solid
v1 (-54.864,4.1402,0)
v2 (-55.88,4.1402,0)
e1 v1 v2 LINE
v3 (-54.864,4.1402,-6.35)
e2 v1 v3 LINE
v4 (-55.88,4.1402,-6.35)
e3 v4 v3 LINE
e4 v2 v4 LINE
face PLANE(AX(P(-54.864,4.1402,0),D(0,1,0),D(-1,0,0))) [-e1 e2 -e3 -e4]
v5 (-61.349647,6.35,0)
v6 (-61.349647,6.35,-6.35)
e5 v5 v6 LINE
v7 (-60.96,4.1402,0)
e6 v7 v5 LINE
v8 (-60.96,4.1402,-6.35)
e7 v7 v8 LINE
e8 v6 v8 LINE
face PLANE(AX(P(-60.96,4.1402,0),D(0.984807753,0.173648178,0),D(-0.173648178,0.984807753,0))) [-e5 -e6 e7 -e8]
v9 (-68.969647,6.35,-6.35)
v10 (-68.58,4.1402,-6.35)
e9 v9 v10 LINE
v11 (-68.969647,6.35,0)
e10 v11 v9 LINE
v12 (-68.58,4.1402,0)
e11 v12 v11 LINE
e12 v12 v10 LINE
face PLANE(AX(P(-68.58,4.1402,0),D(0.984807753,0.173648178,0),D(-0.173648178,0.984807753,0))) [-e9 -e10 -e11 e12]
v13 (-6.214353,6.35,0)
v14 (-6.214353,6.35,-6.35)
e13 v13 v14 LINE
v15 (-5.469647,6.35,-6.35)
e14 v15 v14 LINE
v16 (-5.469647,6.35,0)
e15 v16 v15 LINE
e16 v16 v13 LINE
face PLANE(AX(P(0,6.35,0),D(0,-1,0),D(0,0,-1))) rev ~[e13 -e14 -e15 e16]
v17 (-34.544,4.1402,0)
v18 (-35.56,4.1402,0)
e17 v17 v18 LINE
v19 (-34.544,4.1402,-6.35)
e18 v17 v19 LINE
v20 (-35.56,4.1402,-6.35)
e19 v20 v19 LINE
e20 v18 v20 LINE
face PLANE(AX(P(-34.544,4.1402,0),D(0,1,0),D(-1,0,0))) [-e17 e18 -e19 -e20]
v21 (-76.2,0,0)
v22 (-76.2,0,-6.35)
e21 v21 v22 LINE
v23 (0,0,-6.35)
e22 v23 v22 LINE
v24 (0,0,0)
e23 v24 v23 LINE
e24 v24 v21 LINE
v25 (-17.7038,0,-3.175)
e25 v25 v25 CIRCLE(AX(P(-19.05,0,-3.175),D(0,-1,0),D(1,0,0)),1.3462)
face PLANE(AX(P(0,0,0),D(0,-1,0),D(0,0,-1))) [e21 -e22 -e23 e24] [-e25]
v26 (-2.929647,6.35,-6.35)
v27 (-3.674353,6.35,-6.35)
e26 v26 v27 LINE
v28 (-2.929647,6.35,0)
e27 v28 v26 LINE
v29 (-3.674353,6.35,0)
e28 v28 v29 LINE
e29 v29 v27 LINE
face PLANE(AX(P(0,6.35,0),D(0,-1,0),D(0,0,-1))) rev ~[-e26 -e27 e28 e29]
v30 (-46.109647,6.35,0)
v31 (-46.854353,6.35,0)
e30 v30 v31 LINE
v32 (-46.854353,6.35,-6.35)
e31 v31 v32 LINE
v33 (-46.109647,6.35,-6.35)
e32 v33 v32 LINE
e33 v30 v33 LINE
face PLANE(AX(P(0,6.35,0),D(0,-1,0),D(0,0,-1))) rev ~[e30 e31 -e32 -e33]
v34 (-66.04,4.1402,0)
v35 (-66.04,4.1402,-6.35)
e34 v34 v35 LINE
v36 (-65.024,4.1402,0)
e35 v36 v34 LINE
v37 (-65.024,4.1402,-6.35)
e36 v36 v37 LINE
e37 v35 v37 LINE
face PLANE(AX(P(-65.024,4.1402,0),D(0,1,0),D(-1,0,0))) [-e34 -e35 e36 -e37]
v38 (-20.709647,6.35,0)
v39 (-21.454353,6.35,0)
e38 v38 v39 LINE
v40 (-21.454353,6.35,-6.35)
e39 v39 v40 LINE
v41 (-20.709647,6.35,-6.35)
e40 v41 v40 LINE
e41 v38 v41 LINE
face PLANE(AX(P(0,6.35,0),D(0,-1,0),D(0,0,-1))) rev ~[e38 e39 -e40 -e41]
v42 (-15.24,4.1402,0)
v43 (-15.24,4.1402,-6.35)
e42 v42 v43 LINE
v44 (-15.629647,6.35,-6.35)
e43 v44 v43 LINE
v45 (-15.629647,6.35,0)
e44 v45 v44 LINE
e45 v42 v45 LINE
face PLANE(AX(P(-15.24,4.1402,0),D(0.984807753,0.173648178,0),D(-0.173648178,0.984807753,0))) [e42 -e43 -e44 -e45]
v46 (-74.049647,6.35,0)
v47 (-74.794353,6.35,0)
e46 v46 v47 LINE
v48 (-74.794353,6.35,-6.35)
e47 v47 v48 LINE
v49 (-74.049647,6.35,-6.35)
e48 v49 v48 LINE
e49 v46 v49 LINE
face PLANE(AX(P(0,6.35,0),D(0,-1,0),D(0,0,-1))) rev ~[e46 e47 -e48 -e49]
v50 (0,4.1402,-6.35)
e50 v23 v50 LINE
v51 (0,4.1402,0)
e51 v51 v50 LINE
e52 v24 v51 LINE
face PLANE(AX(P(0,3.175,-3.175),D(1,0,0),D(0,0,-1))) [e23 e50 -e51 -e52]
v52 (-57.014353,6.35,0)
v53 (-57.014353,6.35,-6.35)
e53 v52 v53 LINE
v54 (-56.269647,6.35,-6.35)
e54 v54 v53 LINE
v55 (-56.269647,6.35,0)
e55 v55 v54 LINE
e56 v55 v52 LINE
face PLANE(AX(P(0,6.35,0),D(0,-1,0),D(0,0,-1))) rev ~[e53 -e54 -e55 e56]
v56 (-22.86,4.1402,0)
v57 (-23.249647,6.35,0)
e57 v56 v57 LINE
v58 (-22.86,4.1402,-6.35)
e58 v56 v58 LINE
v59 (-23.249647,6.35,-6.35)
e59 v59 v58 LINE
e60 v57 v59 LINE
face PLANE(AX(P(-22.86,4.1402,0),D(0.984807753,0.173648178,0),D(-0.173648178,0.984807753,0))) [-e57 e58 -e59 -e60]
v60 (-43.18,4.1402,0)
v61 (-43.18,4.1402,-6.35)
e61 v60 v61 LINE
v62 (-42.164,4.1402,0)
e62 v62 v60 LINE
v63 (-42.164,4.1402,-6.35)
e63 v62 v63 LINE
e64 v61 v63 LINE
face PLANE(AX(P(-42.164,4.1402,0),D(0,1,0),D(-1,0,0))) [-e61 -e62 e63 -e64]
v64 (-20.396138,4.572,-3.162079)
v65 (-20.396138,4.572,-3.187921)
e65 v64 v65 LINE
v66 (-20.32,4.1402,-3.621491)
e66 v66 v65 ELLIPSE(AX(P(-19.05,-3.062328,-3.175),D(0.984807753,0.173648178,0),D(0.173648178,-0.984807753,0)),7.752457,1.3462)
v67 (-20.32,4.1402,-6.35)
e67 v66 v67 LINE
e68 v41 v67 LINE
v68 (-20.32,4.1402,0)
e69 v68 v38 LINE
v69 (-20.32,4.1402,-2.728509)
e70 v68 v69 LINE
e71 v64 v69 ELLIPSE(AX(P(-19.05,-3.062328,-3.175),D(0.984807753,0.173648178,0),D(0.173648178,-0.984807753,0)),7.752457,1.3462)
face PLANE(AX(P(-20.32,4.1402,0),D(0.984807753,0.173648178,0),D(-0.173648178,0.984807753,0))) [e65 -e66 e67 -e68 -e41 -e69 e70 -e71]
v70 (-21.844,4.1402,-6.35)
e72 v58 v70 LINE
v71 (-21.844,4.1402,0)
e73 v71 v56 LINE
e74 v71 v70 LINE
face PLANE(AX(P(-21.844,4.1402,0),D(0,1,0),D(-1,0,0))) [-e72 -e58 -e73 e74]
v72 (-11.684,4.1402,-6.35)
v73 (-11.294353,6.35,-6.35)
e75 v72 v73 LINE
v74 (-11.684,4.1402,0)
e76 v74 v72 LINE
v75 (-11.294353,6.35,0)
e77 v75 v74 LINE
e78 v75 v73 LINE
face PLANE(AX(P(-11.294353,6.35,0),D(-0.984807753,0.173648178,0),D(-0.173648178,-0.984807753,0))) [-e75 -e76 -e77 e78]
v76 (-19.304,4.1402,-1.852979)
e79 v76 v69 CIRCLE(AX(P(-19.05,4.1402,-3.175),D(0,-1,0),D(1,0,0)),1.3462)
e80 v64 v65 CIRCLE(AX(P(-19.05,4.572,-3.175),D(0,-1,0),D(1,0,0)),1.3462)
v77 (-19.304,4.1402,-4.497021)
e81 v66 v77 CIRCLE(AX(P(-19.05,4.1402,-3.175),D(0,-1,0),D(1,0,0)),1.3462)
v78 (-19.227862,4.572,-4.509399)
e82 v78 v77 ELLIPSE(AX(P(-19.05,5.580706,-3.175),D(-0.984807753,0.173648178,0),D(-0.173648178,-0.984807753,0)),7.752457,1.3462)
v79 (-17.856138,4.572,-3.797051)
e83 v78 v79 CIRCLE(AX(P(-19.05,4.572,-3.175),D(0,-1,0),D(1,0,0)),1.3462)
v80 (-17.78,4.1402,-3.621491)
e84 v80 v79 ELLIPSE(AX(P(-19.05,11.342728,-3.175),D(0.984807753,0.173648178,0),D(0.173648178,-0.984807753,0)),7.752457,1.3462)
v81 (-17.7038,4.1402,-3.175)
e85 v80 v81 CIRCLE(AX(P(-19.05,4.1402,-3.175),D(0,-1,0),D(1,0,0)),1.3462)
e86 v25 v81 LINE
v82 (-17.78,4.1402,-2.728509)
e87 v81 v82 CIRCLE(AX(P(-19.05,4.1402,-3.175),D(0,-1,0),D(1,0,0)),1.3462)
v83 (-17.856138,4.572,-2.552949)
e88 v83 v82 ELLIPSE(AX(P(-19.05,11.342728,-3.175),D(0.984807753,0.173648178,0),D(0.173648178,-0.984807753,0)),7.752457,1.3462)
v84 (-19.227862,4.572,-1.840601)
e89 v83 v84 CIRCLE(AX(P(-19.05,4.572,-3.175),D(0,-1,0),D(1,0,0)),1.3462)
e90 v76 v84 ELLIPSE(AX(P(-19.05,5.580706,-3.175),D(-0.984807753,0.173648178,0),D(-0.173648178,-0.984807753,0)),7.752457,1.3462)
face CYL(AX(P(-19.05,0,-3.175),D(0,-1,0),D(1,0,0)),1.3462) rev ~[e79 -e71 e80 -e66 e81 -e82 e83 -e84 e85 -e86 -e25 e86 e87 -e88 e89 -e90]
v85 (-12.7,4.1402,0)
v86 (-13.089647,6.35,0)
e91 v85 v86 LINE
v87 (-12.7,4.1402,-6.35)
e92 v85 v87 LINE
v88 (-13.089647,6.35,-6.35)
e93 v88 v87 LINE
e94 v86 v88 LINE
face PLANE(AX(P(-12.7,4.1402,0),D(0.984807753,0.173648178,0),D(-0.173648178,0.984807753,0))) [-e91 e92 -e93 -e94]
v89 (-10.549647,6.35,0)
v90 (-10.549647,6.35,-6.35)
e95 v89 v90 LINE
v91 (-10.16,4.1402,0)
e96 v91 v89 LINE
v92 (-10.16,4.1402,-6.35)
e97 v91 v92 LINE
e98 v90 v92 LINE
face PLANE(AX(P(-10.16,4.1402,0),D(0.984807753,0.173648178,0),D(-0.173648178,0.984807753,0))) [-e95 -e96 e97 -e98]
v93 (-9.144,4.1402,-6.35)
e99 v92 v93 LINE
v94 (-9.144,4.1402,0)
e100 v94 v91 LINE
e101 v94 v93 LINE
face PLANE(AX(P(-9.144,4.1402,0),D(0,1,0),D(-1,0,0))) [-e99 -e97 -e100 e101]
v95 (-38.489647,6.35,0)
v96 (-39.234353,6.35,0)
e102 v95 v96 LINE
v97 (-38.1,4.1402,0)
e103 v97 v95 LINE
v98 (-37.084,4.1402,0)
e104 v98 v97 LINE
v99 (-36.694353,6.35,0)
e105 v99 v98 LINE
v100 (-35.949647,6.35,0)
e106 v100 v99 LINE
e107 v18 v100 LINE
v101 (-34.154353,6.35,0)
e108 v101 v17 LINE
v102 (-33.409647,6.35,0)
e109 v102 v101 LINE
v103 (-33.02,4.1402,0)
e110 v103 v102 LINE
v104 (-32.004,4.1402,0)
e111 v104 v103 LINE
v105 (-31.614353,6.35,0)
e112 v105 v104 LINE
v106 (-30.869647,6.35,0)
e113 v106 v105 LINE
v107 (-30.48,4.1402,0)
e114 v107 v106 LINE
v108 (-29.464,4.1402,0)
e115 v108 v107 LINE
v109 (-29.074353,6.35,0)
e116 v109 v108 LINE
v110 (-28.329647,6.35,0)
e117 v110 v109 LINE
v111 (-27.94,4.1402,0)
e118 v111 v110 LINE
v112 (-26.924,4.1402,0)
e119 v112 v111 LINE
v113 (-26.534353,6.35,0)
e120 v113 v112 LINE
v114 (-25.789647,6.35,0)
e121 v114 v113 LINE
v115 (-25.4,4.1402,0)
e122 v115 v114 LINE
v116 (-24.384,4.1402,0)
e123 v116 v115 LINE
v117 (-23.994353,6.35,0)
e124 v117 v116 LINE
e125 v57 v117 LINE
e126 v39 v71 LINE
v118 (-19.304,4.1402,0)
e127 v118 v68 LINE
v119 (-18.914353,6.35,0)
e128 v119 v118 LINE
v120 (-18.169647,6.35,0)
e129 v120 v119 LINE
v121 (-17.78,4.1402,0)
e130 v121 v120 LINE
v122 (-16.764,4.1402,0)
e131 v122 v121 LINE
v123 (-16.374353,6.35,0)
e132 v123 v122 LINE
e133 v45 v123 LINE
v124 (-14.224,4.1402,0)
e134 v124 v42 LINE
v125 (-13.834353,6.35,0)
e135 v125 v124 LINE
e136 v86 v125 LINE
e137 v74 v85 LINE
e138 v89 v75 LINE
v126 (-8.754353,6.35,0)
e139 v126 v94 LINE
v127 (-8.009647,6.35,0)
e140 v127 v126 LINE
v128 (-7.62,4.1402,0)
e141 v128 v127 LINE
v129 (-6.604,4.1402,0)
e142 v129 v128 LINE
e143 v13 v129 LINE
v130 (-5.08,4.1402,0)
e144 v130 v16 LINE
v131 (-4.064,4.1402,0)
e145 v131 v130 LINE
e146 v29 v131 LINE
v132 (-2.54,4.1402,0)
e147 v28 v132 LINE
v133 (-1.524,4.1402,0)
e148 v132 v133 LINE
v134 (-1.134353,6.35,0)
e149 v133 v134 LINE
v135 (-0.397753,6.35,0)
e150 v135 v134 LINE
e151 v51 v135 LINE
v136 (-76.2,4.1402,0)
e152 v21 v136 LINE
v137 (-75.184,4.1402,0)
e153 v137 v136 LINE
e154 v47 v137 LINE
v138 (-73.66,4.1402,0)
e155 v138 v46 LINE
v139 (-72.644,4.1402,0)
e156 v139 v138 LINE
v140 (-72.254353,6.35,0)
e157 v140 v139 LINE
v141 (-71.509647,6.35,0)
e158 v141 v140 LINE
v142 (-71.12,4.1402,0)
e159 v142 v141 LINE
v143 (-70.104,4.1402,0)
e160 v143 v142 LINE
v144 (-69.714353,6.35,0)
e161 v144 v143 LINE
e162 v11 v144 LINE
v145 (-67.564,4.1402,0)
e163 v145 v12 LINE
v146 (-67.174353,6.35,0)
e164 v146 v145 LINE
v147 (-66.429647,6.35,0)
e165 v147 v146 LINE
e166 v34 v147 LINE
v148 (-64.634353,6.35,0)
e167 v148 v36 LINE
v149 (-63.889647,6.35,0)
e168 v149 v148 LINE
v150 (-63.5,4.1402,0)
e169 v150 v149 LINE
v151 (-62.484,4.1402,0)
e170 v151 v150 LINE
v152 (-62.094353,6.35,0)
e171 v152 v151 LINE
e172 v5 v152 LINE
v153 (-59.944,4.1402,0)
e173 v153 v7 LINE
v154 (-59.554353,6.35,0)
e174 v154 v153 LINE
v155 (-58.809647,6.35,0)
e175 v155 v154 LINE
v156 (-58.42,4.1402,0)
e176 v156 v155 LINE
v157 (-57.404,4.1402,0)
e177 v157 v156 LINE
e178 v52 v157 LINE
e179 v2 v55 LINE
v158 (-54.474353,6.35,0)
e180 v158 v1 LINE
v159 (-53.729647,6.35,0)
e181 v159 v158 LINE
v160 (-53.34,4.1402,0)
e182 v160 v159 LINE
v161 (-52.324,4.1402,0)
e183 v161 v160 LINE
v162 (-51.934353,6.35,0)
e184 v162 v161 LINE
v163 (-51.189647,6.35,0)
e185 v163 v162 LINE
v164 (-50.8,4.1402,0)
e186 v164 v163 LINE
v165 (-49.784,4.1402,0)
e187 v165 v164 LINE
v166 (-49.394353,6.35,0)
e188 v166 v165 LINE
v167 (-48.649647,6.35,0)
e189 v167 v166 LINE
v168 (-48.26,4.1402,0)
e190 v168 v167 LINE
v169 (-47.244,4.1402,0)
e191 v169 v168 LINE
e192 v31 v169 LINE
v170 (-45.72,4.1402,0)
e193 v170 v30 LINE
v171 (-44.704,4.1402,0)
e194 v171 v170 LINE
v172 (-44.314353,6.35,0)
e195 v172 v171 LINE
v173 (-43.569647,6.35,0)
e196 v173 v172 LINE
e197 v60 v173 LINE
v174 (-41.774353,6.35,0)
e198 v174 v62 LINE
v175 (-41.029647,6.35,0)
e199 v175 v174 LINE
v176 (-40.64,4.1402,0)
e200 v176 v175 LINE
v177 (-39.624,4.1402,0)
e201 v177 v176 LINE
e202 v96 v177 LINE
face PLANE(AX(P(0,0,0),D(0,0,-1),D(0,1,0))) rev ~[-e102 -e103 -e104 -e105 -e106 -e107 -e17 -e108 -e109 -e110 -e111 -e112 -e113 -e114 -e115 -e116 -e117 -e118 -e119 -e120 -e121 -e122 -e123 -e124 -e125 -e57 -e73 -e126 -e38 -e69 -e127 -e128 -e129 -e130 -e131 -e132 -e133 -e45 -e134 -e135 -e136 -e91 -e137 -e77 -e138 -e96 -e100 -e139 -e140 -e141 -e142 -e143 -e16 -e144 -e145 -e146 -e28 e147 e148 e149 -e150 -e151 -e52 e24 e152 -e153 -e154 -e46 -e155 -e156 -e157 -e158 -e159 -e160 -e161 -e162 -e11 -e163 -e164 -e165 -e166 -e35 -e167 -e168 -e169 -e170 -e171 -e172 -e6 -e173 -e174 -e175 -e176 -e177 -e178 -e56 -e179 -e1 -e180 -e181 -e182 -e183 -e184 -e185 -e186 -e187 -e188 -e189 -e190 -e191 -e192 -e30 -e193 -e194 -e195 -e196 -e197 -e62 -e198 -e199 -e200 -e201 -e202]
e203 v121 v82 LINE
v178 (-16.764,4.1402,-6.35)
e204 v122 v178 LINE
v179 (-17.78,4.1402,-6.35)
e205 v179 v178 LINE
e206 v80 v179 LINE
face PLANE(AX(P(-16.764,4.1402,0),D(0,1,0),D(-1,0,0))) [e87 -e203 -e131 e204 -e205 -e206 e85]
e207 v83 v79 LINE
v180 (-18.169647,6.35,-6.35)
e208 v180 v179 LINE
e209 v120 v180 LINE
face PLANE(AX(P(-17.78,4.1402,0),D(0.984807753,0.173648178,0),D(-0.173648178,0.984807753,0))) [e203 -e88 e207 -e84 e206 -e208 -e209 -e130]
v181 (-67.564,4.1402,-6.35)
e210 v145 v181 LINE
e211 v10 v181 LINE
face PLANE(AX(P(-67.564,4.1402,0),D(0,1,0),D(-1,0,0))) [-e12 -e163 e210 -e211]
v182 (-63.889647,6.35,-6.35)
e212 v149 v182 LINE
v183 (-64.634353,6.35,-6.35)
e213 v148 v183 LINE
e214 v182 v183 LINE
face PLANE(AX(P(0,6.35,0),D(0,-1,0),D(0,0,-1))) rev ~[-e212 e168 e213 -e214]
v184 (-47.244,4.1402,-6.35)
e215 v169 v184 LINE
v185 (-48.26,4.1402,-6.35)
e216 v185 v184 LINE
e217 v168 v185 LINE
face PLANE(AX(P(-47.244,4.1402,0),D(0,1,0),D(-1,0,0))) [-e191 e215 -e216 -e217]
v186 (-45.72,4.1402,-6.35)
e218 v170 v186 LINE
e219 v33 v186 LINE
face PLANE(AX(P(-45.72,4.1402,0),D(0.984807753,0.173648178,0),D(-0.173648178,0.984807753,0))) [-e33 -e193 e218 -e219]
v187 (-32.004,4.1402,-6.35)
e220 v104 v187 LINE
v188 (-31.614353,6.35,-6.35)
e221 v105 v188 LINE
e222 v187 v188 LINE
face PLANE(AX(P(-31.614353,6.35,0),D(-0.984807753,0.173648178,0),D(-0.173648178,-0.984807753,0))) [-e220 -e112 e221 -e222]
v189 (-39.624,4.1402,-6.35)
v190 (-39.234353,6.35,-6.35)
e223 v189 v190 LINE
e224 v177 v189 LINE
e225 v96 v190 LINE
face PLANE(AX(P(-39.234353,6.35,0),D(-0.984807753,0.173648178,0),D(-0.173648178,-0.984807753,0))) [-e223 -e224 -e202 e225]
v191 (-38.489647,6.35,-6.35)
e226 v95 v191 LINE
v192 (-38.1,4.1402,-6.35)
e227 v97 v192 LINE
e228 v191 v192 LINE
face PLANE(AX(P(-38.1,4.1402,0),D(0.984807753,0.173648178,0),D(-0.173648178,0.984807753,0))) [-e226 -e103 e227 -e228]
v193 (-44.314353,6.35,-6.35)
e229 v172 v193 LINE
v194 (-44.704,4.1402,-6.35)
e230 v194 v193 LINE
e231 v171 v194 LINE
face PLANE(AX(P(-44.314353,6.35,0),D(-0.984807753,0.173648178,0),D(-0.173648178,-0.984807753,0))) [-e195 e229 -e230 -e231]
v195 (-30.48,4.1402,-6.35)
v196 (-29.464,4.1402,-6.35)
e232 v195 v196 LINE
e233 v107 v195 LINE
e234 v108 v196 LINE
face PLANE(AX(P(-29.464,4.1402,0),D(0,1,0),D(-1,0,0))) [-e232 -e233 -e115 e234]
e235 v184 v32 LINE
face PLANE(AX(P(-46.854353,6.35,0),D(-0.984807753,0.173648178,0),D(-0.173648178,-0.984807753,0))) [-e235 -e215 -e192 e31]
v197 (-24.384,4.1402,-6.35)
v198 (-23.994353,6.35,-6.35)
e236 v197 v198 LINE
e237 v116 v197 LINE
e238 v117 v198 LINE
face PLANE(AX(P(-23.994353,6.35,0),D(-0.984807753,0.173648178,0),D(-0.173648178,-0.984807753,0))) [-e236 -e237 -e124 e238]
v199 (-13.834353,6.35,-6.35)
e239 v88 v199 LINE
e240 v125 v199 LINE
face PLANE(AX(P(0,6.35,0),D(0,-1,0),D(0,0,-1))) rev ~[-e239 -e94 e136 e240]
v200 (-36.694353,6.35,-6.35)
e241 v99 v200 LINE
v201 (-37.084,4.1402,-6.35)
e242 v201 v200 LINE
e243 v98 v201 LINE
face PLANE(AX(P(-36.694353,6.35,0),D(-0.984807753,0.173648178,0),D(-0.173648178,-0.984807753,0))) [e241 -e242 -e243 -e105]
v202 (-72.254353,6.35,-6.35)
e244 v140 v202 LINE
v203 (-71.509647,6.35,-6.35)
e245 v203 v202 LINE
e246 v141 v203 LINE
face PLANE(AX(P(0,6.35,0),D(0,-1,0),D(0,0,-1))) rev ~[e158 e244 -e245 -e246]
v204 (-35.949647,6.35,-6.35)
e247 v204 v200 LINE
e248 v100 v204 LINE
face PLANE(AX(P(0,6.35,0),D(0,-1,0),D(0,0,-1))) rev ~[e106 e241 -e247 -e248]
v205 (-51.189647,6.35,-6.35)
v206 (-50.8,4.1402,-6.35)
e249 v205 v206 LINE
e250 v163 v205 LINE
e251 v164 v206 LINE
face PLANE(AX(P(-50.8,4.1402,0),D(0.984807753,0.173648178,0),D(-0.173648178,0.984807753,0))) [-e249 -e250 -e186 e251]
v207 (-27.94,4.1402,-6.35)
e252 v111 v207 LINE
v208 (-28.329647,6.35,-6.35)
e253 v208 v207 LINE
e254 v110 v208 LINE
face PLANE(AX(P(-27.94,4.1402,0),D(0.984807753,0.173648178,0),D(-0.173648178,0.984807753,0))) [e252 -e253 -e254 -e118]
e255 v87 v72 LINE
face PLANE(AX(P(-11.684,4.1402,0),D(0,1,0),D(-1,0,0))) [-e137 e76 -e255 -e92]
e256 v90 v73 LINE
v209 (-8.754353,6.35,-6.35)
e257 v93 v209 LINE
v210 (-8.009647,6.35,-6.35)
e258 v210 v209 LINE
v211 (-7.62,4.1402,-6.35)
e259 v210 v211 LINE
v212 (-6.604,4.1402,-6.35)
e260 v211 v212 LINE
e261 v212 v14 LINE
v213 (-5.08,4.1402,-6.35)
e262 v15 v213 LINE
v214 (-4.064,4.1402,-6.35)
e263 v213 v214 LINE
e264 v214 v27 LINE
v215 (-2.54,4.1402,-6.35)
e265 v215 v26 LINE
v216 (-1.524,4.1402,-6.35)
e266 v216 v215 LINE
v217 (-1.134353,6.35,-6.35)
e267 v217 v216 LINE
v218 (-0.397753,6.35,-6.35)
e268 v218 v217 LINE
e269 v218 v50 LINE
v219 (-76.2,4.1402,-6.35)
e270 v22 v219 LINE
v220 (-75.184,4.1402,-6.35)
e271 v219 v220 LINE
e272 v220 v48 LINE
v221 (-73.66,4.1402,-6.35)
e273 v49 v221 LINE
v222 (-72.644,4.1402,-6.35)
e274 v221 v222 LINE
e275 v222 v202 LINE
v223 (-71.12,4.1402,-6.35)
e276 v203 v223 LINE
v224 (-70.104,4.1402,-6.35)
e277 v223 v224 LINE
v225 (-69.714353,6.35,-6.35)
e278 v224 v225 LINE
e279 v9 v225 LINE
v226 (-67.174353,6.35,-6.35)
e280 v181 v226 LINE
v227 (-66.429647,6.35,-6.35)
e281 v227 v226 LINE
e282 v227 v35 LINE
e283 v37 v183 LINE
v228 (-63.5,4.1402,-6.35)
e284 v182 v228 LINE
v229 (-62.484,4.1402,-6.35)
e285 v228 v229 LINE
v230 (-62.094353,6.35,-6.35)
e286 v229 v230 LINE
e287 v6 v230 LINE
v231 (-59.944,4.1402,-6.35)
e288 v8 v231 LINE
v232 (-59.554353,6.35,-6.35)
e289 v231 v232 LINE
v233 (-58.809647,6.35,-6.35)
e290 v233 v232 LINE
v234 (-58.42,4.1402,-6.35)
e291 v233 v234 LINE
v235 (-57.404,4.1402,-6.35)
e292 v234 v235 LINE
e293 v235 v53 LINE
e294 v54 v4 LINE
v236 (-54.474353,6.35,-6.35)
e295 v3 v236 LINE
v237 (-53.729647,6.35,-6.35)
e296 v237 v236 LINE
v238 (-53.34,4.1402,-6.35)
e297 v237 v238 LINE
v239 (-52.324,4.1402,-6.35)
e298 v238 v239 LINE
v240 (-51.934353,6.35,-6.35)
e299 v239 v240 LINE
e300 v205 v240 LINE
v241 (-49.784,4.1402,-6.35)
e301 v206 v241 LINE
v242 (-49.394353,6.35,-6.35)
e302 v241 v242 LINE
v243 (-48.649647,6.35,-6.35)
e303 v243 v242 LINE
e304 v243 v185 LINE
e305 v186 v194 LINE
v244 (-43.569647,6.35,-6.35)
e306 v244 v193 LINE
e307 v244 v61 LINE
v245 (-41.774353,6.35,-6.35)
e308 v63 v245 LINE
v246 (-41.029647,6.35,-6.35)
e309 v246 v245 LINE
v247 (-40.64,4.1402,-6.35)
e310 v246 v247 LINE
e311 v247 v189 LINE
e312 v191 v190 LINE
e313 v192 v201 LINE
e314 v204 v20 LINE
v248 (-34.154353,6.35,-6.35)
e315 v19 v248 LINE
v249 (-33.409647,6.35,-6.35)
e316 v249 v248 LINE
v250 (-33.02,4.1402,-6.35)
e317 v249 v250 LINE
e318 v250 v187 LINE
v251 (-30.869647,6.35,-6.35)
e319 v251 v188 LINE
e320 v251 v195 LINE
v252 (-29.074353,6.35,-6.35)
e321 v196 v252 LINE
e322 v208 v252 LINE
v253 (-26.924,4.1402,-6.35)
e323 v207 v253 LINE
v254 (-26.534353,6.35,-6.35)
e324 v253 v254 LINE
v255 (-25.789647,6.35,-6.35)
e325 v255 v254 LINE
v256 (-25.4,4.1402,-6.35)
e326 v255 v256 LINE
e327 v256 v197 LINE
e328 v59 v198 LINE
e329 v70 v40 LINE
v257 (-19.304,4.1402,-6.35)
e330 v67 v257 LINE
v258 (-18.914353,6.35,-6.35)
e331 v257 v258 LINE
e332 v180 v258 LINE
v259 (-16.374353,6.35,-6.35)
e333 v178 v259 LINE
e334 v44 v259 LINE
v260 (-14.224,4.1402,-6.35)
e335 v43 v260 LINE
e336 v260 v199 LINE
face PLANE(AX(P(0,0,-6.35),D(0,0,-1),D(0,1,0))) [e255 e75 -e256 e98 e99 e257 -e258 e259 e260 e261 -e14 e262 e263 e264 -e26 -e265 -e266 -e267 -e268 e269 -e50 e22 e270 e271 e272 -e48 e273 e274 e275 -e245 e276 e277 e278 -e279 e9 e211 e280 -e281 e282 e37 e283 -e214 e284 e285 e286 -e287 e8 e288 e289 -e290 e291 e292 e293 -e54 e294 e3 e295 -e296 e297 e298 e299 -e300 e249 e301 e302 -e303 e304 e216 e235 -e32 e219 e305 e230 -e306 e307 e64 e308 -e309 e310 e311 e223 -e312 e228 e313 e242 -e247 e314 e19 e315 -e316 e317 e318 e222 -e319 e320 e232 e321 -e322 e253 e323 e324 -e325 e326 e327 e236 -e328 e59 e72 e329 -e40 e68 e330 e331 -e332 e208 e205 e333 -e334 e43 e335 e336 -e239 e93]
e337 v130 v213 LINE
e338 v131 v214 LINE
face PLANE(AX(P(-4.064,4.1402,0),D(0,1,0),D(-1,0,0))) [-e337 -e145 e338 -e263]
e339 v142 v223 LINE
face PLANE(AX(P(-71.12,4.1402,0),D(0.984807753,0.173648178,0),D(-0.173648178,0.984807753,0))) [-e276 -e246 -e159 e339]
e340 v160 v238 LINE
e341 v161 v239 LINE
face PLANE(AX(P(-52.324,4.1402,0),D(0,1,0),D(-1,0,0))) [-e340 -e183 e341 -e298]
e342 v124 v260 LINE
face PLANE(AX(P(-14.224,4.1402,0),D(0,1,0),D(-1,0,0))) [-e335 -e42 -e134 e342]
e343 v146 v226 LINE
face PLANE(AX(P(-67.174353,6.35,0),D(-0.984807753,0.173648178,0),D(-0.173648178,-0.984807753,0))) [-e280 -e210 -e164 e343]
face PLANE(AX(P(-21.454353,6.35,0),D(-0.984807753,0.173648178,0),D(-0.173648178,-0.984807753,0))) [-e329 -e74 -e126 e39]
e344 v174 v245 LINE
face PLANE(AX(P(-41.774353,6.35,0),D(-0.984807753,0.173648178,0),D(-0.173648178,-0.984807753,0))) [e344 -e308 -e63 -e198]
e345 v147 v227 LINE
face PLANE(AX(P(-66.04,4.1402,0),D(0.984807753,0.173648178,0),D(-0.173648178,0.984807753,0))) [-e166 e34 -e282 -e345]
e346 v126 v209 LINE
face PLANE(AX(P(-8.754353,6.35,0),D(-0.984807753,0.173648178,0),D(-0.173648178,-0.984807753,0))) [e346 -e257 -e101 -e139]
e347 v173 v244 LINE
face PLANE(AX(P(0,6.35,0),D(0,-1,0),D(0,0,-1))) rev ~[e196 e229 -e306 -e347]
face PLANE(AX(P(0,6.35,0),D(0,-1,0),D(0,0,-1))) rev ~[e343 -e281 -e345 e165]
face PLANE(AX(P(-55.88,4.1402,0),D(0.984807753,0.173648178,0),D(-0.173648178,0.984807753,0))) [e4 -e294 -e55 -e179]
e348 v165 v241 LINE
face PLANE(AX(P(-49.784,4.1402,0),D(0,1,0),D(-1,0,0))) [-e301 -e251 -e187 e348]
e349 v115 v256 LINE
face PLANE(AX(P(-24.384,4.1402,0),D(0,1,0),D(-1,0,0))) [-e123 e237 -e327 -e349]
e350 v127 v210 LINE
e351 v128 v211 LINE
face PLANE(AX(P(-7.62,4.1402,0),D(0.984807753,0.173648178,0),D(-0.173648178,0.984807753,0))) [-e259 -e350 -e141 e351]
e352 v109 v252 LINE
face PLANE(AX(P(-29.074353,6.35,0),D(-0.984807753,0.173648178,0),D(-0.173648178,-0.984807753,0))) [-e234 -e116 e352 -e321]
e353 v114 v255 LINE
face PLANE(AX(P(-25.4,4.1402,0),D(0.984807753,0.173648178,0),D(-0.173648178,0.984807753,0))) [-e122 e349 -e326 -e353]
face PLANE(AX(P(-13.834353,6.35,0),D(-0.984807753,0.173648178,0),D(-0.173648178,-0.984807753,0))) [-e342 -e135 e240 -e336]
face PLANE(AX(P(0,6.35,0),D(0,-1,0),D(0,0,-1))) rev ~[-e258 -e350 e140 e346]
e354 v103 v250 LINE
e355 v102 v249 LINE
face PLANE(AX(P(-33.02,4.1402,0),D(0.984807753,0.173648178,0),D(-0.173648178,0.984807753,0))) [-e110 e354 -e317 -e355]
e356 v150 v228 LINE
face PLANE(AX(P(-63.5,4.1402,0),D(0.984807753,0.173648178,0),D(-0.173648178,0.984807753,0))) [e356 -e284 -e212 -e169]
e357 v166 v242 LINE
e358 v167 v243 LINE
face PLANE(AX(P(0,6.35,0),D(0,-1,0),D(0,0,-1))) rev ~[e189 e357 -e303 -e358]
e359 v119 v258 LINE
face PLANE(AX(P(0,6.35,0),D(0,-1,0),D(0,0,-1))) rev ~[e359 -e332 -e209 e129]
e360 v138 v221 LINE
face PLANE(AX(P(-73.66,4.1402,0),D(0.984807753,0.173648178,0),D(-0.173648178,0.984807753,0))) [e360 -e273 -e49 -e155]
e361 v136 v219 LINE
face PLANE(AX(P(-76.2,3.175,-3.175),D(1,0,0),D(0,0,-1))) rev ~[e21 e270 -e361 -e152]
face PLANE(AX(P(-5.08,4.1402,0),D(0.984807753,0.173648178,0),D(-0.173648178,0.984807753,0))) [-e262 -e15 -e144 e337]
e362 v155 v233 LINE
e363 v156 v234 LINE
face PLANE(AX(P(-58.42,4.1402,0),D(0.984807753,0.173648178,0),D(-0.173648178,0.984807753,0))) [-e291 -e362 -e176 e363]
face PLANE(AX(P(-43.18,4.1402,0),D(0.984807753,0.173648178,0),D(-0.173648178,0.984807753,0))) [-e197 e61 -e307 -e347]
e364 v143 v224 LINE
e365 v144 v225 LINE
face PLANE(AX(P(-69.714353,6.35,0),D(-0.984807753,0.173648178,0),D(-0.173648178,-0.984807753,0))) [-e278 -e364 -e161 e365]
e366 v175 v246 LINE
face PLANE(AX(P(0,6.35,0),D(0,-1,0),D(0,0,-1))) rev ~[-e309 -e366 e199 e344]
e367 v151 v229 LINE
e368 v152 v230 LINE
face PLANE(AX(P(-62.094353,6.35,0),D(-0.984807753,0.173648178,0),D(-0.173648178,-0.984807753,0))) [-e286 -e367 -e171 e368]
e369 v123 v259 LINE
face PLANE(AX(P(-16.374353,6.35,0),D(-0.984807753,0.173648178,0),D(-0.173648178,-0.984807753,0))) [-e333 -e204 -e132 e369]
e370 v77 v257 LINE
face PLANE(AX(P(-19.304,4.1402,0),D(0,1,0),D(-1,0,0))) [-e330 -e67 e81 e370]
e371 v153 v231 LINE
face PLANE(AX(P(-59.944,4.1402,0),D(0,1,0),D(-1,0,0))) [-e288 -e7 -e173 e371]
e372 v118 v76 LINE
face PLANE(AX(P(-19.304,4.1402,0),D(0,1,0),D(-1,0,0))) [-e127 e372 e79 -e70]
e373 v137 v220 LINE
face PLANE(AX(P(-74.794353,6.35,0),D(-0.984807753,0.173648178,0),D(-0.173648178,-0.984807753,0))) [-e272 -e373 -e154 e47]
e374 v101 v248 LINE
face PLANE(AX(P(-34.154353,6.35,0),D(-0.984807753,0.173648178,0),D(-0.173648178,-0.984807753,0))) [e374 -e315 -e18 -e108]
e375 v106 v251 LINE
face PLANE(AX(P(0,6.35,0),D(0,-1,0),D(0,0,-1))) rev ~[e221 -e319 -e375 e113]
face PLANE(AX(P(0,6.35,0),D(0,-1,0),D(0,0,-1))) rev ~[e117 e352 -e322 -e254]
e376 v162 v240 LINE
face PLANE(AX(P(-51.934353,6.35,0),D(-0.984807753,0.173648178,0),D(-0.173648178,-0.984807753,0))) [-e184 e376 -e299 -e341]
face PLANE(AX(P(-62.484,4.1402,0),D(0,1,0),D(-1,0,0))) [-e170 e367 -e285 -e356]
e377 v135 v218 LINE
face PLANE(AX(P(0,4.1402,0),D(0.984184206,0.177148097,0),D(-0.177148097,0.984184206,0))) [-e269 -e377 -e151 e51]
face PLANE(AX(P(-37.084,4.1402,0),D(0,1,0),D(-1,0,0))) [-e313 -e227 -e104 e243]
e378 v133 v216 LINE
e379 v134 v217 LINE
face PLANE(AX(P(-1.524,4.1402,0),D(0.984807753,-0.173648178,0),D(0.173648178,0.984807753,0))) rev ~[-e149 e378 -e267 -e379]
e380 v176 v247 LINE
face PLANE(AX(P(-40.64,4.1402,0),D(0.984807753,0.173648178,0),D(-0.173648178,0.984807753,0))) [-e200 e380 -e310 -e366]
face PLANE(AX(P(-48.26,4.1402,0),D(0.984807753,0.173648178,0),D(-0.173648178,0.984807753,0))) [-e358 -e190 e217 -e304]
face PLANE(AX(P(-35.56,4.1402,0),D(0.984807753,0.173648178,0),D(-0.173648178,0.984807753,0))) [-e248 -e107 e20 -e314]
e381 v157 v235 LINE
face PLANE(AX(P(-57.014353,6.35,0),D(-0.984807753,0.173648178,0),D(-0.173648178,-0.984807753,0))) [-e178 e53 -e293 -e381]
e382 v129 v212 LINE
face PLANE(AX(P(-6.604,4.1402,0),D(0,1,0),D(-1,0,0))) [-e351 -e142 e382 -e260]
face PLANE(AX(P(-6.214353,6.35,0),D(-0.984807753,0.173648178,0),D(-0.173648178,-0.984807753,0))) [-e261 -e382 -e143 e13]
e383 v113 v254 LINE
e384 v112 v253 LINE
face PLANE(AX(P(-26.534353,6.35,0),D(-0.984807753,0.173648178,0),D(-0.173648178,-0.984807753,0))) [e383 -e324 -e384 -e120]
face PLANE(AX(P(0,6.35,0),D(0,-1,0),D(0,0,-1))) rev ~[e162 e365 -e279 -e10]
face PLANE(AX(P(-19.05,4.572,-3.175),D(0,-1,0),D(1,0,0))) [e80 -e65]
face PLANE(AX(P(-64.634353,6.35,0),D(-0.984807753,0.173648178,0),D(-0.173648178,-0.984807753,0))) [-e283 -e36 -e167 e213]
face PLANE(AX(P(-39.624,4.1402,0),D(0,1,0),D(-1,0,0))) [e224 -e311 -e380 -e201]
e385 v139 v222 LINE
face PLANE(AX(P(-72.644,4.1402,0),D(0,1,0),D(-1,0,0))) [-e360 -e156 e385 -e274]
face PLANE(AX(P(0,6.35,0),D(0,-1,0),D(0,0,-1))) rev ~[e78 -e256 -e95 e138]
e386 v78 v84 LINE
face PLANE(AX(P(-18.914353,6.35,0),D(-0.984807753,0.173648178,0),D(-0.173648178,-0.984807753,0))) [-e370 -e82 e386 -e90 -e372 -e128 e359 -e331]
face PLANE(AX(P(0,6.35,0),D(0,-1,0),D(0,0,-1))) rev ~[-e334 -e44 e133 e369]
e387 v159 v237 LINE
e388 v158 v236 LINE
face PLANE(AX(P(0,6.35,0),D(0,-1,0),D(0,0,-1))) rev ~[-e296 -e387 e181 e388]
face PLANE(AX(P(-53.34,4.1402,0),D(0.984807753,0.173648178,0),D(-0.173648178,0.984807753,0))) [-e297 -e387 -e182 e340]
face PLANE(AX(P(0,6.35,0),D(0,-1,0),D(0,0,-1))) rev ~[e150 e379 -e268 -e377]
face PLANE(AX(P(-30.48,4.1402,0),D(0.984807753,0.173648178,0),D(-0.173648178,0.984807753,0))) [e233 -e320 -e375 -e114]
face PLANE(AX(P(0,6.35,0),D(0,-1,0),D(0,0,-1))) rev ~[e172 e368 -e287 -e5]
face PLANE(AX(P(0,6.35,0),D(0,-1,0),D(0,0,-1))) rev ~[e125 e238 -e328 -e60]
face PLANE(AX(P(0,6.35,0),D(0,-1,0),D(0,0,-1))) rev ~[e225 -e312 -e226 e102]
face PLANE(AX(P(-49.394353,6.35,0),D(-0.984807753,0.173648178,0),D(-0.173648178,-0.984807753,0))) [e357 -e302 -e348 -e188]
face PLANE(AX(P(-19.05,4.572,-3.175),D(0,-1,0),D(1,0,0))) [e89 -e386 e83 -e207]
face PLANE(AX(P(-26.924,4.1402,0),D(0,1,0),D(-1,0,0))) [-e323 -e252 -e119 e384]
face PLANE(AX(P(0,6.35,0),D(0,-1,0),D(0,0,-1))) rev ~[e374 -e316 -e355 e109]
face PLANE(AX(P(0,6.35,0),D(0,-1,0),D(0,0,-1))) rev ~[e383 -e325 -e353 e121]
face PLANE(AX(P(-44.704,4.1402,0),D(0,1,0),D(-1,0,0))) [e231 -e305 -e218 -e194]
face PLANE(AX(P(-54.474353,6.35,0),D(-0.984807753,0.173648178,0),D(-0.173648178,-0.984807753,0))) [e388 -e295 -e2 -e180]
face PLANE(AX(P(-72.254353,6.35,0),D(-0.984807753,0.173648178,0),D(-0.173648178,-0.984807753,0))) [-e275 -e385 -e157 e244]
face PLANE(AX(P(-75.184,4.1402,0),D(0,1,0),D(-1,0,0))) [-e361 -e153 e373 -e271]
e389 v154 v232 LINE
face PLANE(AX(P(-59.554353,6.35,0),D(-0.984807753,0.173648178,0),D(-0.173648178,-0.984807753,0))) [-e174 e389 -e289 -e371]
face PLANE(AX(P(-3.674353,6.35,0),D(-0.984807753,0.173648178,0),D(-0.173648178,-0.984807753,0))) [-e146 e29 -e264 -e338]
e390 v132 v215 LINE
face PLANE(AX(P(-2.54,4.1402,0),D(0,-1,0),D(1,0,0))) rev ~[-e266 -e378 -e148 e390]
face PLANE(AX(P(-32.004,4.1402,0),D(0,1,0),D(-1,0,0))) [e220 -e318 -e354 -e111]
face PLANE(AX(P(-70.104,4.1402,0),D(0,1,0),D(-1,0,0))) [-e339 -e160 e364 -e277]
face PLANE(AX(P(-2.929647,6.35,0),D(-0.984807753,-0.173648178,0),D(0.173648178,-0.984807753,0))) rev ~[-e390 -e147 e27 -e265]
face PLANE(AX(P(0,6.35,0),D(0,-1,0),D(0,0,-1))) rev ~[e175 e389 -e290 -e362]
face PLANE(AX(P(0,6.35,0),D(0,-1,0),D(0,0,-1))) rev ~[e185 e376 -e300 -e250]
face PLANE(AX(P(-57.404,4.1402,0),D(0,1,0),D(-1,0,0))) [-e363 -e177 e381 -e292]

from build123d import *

# Parameters (mm, degrees)
SKETCH1_W           = 6.35
SKETCH1_H           = 6.35
BOSS_EXTRUDE1_DEPTH = 76.2
CUT_EXTRUDE1_DEPTH  = 76.2
SKETCH3_R           = 1.3462
CUT_EXTRUDE2_DEPTH  = 4.572


with BuildPart() as part:
    # Sketch1 → Boss-Extrude1 (new body)
    with BuildSketch(Plane(origin=(0, 0, 0), x_dir=(0, 0, -1), z_dir=(1, 0, 0))):
        with Locations((3.175, 3.175)):
            Rectangle(SKETCH1_W, SKETCH1_H)
    extrude(amount=-BOSS_EXTRUDE1_DEPTH)

    # Sketch2 → Cut-Extrude1 (cut)
    with BuildSketch(Plane.XY):
        Polygon((-5.08, 4.1402), (-5.469647362, 6.35), (-3.674352638, 6.35), (-4.064, 4.1402), align=None)
        Polygon((-1.524, 4.1402), (-1.134352638, 6.35), (-2.929647362, 6.35), (-2.54, 4.1402), align=None)
        Polygon((-7.62, 4.1402), (-8.009647362, 6.35), (-6.214352638, 6.35), (-6.604, 4.1402), align=None)
        Polygon((-10.16, 4.1402), (-10.549647362, 6.35), (-8.754352638, 6.35), (-9.144, 4.1402), align=None)
        Polygon((-12.7, 4.1402), (-13.089647362, 6.35), (-11.294352638, 6.35), (-11.684, 4.1402), align=None)
        Polygon((-15.24, 4.1402), (-15.629647362, 6.35), (-13.834352638, 6.35), (-14.224, 4.1402), align=None)
        Polygon((-17.78, 4.1402), (-18.169647362, 6.35), (-16.374352638, 6.35), (-16.764, 4.1402), align=None)
        Polygon((-20.32, 4.1402), (-20.709647362, 6.35), (-18.914352638, 6.35), (-19.304, 4.1402), align=None)
        Polygon((-22.86, 4.1402), (-23.249647362, 6.35), (-21.454352638, 6.35), (-21.844, 4.1402), align=None)
        Polygon((-25.4, 4.1402), (-25.789647362, 6.35), (-23.994352638, 6.35), (-24.384, 4.1402), align=None)
        Polygon((-27.94, 4.1402), (-28.329647362, 6.35), (-26.534352638, 6.35), (-26.924, 4.1402), align=None)
        Polygon((-30.48, 4.1402), (-30.869647362, 6.35), (-29.074352638, 6.35), (-29.464, 4.1402), align=None)
        Polygon((-33.02, 4.1402), (-33.409647362, 6.35), (-31.614352638, 6.35), (-32.004, 4.1402), align=None)
        Polygon((-35.56, 4.1402), (-35.949647362, 6.35), (-34.154352638, 6.35), (-34.544, 4.1402), align=None)
        Polygon((-38.1, 4.1402), (-38.489647362, 6.35), (-36.694352638, 6.35), (-37.084, 4.1402), align=None)
        Polygon((-40.64, 4.1402), (-41.029647362, 6.35), (-39.234352638, 6.35), (-39.624, 4.1402), align=None)
        Polygon((-43.18, 4.1402), (-43.569647362, 6.35), (-41.774352638, 6.35), (-42.164, 4.1402), align=None)
        Polygon((-45.72, 4.1402), (-46.109647362, 6.35), (-44.314352638, 6.35), (-44.704, 4.1402), align=None)
        Polygon((-48.26, 4.1402), (-48.649647362, 6.35), (-46.854352638, 6.35), (-47.244, 4.1402), align=None)
        Polygon((-50.8, 4.1402), (-51.189647362, 6.35), (-49.394352638, 6.35), (-49.784, 4.1402), align=None)
        Polygon((-53.34, 4.1402), (-53.729647362, 6.35), (-51.934352638, 6.35), (-52.324, 4.1402), align=None)
        Polygon((-55.88, 4.1402), (-56.269647362, 6.35), (-54.474352638, 6.35), (-54.864, 4.1402), align=None)
        Polygon((-58.42, 4.1402), (-58.809647362, 6.35), (-57.014352638, 6.35), (-57.404, 4.1402), align=None)
        Polygon((-60.96, 4.1402), (-61.349647362, 6.35), (-59.554352638, 6.35), (-59.944, 4.1402), align=None)
        Polygon((-63.5, 4.1402), (-63.889647362, 6.35), (-62.094352638, 6.35), (-62.484, 4.1402), align=None)
        Polygon((-66.04, 4.1402), (-66.429647362, 6.35), (-64.634352638, 6.35), (-65.024, 4.1402), align=None)
        Polygon((-68.58, 4.1402), (-68.969647362, 6.35), (-67.174352638, 6.35), (-67.564, 4.1402), align=None)
        Polygon((-71.12, 4.1402), (-71.509647362, 6.35), (-69.714352638, 6.35), (-70.104, 4.1402), align=None)
        Polygon((-73.66, 4.1402), (-74.049647362, 6.35), (-72.254352638, 6.35), (-72.644, 4.1402), align=None)
        Polygon((-76.2, 4.1402), (-76.589647362, 6.35), (-74.794352638, 6.35), (-75.184, 4.1402), align=None)
        Polygon((-78.74, 4.1402), (-79.129647362, 6.35), (-77.334352638, 6.35), (-77.724, 4.1402), align=None)
        Polygon((-81.28, 4.1402), (-81.669647362, 6.35), (-79.874352638, 6.35), (-80.264, 4.1402), align=None)
        Polygon((-83.82, 4.1402), (-84.209647362, 6.35), (-82.414352638, 6.35), (-82.804, 4.1402), align=None)
        Polygon((-86.36, 4.1402), (-86.749647362, 6.35), (-84.954352638, 6.35), (-85.344, 4.1402), align=None)
        Polygon((-88.9, 4.1402), (-89.289647362, 6.35), (-87.494352638, 6.35), (-87.884, 4.1402), align=None)
        Polygon((-91.44, 4.1402), (-91.829647362, 6.35), (-90.034352638, 6.35), (-90.424, 4.1402), align=None)
        Polygon((-93.98, 4.1402), (-94.369647362, 6.35), (-92.574352638, 6.35), (-92.964, 4.1402), align=None)
        Polygon((-96.52, 4.1402), (-96.909647362, 6.35), (-95.114352638, 6.35), (-95.504, 4.1402), align=None)
        Polygon((-99.06, 4.1402), (-99.449647362, 6.35), (-97.654352638, 6.35), (-98.044, 4.1402), align=None)
        Polygon((-101.6, 4.1402), (-101.989647362, 6.35), (-100.194352638, 6.35), (-100.584, 4.1402), align=None)
        Polygon((-104.14, 4.1402), (-104.529647362, 6.35), (-102.734352638, 6.35), (-103.124, 4.1402), align=None)
        Polygon((-106.68, 4.1402), (-107.069647362, 6.35), (-105.274352638, 6.35), (-105.664, 4.1402), align=None)
        Polygon((-109.22, 4.1402), (-109.609647362, 6.35), (-107.814352638, 6.35), (-108.204, 4.1402), align=None)
        Polygon((-111.76, 4.1402), (-112.149647362, 6.35), (-110.354352638, 6.35), (-110.744, 4.1402), align=None)
        Polygon((-114.3, 4.1402), (-114.689647362, 6.35), (-112.894352638, 6.35), (-113.284, 4.1402), align=None)
        Polygon((-116.84, 4.1402), (-117.229647362, 6.35), (-115.434352638, 6.35), (-115.824, 4.1402), align=None)
        Polygon((-119.38, 4.1402), (-119.769647362, 6.35), (-117.974352638, 6.35), (-118.364, 4.1402), align=None)
        Polygon((-121.92, 4.1402), (-122.309647362, 6.35), (-120.514352638, 6.35), (-120.904, 4.1402), align=None)
        Polygon((-124.46, 4.1402), (-124.849647362, 6.35), (-123.054352638, 6.35), (-123.444, 4.1402), align=None)
        Polygon((-127, 4.1402), (-127.389647362, 6.35), (-125.594352638, 6.35), (-125.984, 4.1402), align=None)
        Polygon((-129.54, 4.1402), (-129.929647362, 6.35), (-128.134352638, 6.35), (-128.524, 4.1402), align=None)
        Polygon((-132.08, 4.1402), (-132.469647362, 6.35), (-130.674352638, 6.35), (-131.064, 4.1402), align=None)
        Polygon((-134.62, 4.1402), (-135.009647362, 6.35), (-133.214352638, 6.35), (-133.604, 4.1402), align=None)
        Polygon((-137.16, 4.1402), (-137.549647362, 6.35), (-135.754352638, 6.35), (-136.144, 4.1402), align=None)
        Polygon((-139.7, 4.1402), (-140.089647362, 6.35), (-138.294352638, 6.35), (-138.684, 4.1402), align=None)
        Polygon((-142.24, 4.1402), (-142.629647362, 6.35), (-140.834352638, 6.35), (-141.224, 4.1402), align=None)
        Polygon((-144.78, 4.1402), (-145.169647362, 6.35), (-143.374352638, 6.35), (-143.764, 4.1402), align=None)
        Polygon((-147.32, 4.1402), (-147.709647362, 6.35), (-145.914352638, 6.35), (-146.304, 4.1402), align=None)
        Polygon((-149.86, 4.1402), (-150.249647362, 6.35), (-148.454352638, 6.35), (-148.844, 4.1402), align=None)
        Polygon((-152.4, 4.1402), (-152.789647362, 6.35), (-150.994352638, 6.35), (-151.384, 4.1402), align=None)
        Polygon((-154.94, 4.1402), (-155.329647362, 6.35), (-153.534352638, 6.35), (-153.924, 4.1402), align=None)
        Polygon((-157.48, 4.1402), (-157.869647362, 6.35), (-156.074352638, 6.35), (-156.464, 4.1402), align=None)
        Polygon((-160.02, 4.1402), (-160.409647362, 6.35), (-158.614352638, 6.35), (-159.004, 4.1402), align=None)
        Polygon((-162.56, 4.1402), (-162.949647362, 6.35), (-161.154352638, 6.35), (-161.544, 4.1402), align=None)
        Polygon((-165.1, 4.1402), (-165.489647362, 6.35), (-163.694352638, 6.35), (-164.084, 4.1402), align=None)
        Polygon((-167.64, 4.1402), (-168.029647362, 6.35), (-166.234352638, 6.35), (-166.624, 4.1402), align=None)
        Polygon((-170.18, 4.1402), (-170.569647362, 6.35), (-168.774352638, 6.35), (-169.164, 4.1402), align=None)
        Polygon((-172.72, 4.1402), (-173.109647362, 6.35), (-171.314352638, 6.35), (-171.704, 4.1402), align=None)
        Polygon((-175.26, 4.1402), (-175.649647362, 6.35), (-173.854352638, 6.35), (-174.244, 4.1402), align=None)
        Polygon((-177.8, 4.1402), (-178.189647362, 6.35), (-176.394352638, 6.35), (-176.784, 4.1402), align=None)
        Polygon((-180.34, 4.1402), (-180.729647362, 6.35), (-178.934352638, 6.35), (-179.324, 4.1402), align=None)
        Polygon((-182.88, 4.1402), (-183.269647362, 6.35), (-181.474352638, 6.35), (-181.864, 4.1402), align=None)
        Polygon((-185.42, 4.1402), (-185.809647362, 6.35), (-184.014352638, 6.35), (-184.404, 4.1402), align=None)
        Polygon((-187.96, 4.1402), (-188.349647362, 6.35), (-186.554352638, 6.35), (-186.944, 4.1402), align=None)
        Polygon((-190.5, 4.1402), (-190.889647362, 6.35), (-189.094352638, 6.35), (-189.484, 4.1402), align=None)
        Polygon((-193.04, 4.1402), (-193.429647362, 6.35), (-191.634352638, 6.35), (-192.024, 4.1402), align=None)
        Polygon((-195.58, 4.1402), (-195.969647362, 6.35), (-194.174352638, 6.35), (-194.564, 4.1402), align=None)
        Polygon((-198.12, 4.1402), (-198.509647362, 6.35), (-196.714352638, 6.35), (-197.104, 4.1402), align=None)
        Polygon((-200.66, 4.1402), (-201.049647362, 6.35), (-199.254352638, 6.35), (-199.644, 4.1402), align=None)
        Polygon((-203.2, 4.1402), (-203.589647362, 6.35), (-201.794352638, 6.35), (-202.184, 4.1402), align=None)
        Polygon((-205.74, 4.1402), (-206.129647362, 6.35), (-204.334352638, 6.35), (-204.724, 4.1402), align=None)
        Polygon((-208.28, 4.1402), (-208.669647362, 6.35), (-206.874352638, 6.35), (-207.264, 4.1402), align=None)
        Polygon((-210.82, 4.1402), (-211.209647362, 6.35), (-209.414352638, 6.35), (-209.804, 4.1402), align=None)
        Polygon((-213.36, 4.1402), (-213.749647362, 6.35), (-211.954352638, 6.35), (-212.344, 4.1402), align=None)
        Polygon((-215.9, 4.1402), (-216.289647362, 6.35), (-214.494352638, 6.35), (-214.884, 4.1402), align=None)
        Polygon((-218.44, 4.1402), (-218.829647362, 6.35), (-217.034352638, 6.35), (-217.424, 4.1402), align=None)
        Polygon((-220.98, 4.1402), (-221.369647362, 6.35), (-219.574352638, 6.35), (-219.964, 4.1402), align=None)
        Polygon((-223.52, 4.1402), (-223.909647362, 6.35), (-222.114352638, 6.35), (-222.504, 4.1402), align=None)
        Polygon((-226.06, 4.1402), (-226.449647362, 6.35), (-224.654352638, 6.35), (-225.044, 4.1402), align=None)
        Polygon((-228.6, 4.1402), (-228.989647362, 6.35), (-227.194352638, 6.35), (-227.584, 4.1402), align=None)
        Polygon((-231.14, 4.1402), (-231.529647362, 6.35), (-229.734352638, 6.35), (-230.124, 4.1402), align=None)
        Polygon((-233.68, 4.1402), (-234.069647362, 6.35), (-232.274352638, 6.35), (-232.664, 4.1402), align=None)
        Polygon((-236.22, 4.1402), (-236.609647362, 6.35), (-234.814352638, 6.35), (-235.204, 4.1402), align=None)
        Polygon((-238.76, 4.1402), (-239.149647362, 6.35), (-237.354352638, 6.35), (-237.744, 4.1402), align=None)
        Polygon((-241.3, 4.1402), (-241.689647362, 6.35), (-239.894352638, 6.35), (-240.284, 4.1402), align=None)
        Polygon((-243.84, 4.1402), (-244.229647362, 6.35), (-242.434352638, 6.35), (-242.824, 4.1402), align=None)
        Polygon((-246.38, 4.1402), (-246.769647362, 6.35), (-244.974352638, 6.35), (-245.364, 4.1402), align=None)
        Polygon((-248.92, 4.1402), (-249.309647362, 6.35), (-247.514352638, 6.35), (-247.904, 4.1402), align=None)
        Polygon((-251.46, 4.1402), (-251.849647362, 6.35), (-250.054352638, 6.35), (-250.444, 4.1402), align=None)
        Polygon((-254, 4.1402), (-254.389647362, 6.35), (-252.594352638, 6.35), (-252.984, 4.1402), align=None)
        Polygon((-256.54, 4.1402), (-256.929647362, 6.35), (-255.134352638, 6.35), (-255.524, 4.1402), align=None)
        Polygon((-259.08, 4.1402), (-259.469647362, 6.35), (-257.674352638, 6.35), (-258.064, 4.1402), align=None)
        Polygon((-261.62, 4.1402), (-262.009647362, 6.35), (-260.214352638, 6.35), (-260.604, 4.1402), align=None)
        Polygon((-264.16, 4.1402), (-264.549647362, 6.35), (-262.754352638, 6.35), (-263.144, 4.1402), align=None)
        Polygon((-266.7, 4.1402), (-267.089647362, 6.35), (-265.294352638, 6.35), (-265.684, 4.1402), align=None)
        Polygon((-269.24, 4.1402), (-269.629647362, 6.35), (-267.834352638, 6.35), (-268.224, 4.1402), align=None)
        Polygon((-271.78, 4.1402), (-272.169647362, 6.35), (-270.374352638, 6.35), (-270.764, 4.1402), align=None)
        Polygon((-274.32, 4.1402), (-274.709647362, 6.35), (-272.914352638, 6.35), (-273.304, 4.1402), align=None)
        Polygon((-276.86, 4.1402), (-277.249647362, 6.35), (-275.454352638, 6.35), (-275.844, 4.1402), align=None)
        Polygon((-279.4, 4.1402), (-279.789647362, 6.35), (-277.994352638, 6.35), (-278.384, 4.1402), align=None)
        Polygon((-281.94, 4.1402), (-282.329647362, 6.35), (-280.534352638, 6.35), (-280.924, 4.1402), align=None)
        Polygon((-284.48, 4.1402), (-284.869647362, 6.35), (-283.074352638, 6.35), (-283.464, 4.1402), align=None)
        Polygon((-287.02, 4.1402), (-287.409647362, 6.35), (-285.614352638, 6.35), (-286.004, 4.1402), align=None)
        Polygon((-289.56, 4.1402), (-289.949647362, 6.35), (-288.154352638, 6.35), (-288.544, 4.1402), align=None)
        Polygon((-292.1, 4.1402), (-292.489647362, 6.35), (-290.694352638, 6.35), (-291.084, 4.1402), align=None)
        Polygon((-294.64, 4.1402), (-295.029647362, 6.35), (-293.234352638, 6.35), (-293.624, 4.1402), align=None)
        Polygon((-297.18, 4.1402), (-297.569647362, 6.35), (-295.774352638, 6.35), (-296.164, 4.1402), align=None)
        Polygon((-299.72, 4.1402), (-300.109647362, 6.35), (-298.314352638, 6.35), (-298.704, 4.1402), align=None)
        Polygon((-302.26, 4.1402), (-302.649647362, 6.35), (-300.854352638, 6.35), (-301.244, 4.1402), align=None)
        Polygon((-304.8, 4.1402), (-305.189647362, 6.35), (-303.394352638, 6.35), (-303.784, 4.1402), align=None)
        Polygon((-0.397752638, 6.35), (0, 6.35), (0, 4.1402), align=None)
    extrude(amount=-CUT_EXTRUDE1_DEPTH, mode=Mode.SUBTRACT)

    # Sketch3 → Cut-Extrude2 (cut)
    with BuildSketch(Plane.XZ):
        with Locations((-19.05, -3.175)):
            Circle(SKETCH3_R)
    extrude(amount=-CUT_EXTRUDE2_DEPTH, mode=Mode.SUBTRACT)


solid = part.part
